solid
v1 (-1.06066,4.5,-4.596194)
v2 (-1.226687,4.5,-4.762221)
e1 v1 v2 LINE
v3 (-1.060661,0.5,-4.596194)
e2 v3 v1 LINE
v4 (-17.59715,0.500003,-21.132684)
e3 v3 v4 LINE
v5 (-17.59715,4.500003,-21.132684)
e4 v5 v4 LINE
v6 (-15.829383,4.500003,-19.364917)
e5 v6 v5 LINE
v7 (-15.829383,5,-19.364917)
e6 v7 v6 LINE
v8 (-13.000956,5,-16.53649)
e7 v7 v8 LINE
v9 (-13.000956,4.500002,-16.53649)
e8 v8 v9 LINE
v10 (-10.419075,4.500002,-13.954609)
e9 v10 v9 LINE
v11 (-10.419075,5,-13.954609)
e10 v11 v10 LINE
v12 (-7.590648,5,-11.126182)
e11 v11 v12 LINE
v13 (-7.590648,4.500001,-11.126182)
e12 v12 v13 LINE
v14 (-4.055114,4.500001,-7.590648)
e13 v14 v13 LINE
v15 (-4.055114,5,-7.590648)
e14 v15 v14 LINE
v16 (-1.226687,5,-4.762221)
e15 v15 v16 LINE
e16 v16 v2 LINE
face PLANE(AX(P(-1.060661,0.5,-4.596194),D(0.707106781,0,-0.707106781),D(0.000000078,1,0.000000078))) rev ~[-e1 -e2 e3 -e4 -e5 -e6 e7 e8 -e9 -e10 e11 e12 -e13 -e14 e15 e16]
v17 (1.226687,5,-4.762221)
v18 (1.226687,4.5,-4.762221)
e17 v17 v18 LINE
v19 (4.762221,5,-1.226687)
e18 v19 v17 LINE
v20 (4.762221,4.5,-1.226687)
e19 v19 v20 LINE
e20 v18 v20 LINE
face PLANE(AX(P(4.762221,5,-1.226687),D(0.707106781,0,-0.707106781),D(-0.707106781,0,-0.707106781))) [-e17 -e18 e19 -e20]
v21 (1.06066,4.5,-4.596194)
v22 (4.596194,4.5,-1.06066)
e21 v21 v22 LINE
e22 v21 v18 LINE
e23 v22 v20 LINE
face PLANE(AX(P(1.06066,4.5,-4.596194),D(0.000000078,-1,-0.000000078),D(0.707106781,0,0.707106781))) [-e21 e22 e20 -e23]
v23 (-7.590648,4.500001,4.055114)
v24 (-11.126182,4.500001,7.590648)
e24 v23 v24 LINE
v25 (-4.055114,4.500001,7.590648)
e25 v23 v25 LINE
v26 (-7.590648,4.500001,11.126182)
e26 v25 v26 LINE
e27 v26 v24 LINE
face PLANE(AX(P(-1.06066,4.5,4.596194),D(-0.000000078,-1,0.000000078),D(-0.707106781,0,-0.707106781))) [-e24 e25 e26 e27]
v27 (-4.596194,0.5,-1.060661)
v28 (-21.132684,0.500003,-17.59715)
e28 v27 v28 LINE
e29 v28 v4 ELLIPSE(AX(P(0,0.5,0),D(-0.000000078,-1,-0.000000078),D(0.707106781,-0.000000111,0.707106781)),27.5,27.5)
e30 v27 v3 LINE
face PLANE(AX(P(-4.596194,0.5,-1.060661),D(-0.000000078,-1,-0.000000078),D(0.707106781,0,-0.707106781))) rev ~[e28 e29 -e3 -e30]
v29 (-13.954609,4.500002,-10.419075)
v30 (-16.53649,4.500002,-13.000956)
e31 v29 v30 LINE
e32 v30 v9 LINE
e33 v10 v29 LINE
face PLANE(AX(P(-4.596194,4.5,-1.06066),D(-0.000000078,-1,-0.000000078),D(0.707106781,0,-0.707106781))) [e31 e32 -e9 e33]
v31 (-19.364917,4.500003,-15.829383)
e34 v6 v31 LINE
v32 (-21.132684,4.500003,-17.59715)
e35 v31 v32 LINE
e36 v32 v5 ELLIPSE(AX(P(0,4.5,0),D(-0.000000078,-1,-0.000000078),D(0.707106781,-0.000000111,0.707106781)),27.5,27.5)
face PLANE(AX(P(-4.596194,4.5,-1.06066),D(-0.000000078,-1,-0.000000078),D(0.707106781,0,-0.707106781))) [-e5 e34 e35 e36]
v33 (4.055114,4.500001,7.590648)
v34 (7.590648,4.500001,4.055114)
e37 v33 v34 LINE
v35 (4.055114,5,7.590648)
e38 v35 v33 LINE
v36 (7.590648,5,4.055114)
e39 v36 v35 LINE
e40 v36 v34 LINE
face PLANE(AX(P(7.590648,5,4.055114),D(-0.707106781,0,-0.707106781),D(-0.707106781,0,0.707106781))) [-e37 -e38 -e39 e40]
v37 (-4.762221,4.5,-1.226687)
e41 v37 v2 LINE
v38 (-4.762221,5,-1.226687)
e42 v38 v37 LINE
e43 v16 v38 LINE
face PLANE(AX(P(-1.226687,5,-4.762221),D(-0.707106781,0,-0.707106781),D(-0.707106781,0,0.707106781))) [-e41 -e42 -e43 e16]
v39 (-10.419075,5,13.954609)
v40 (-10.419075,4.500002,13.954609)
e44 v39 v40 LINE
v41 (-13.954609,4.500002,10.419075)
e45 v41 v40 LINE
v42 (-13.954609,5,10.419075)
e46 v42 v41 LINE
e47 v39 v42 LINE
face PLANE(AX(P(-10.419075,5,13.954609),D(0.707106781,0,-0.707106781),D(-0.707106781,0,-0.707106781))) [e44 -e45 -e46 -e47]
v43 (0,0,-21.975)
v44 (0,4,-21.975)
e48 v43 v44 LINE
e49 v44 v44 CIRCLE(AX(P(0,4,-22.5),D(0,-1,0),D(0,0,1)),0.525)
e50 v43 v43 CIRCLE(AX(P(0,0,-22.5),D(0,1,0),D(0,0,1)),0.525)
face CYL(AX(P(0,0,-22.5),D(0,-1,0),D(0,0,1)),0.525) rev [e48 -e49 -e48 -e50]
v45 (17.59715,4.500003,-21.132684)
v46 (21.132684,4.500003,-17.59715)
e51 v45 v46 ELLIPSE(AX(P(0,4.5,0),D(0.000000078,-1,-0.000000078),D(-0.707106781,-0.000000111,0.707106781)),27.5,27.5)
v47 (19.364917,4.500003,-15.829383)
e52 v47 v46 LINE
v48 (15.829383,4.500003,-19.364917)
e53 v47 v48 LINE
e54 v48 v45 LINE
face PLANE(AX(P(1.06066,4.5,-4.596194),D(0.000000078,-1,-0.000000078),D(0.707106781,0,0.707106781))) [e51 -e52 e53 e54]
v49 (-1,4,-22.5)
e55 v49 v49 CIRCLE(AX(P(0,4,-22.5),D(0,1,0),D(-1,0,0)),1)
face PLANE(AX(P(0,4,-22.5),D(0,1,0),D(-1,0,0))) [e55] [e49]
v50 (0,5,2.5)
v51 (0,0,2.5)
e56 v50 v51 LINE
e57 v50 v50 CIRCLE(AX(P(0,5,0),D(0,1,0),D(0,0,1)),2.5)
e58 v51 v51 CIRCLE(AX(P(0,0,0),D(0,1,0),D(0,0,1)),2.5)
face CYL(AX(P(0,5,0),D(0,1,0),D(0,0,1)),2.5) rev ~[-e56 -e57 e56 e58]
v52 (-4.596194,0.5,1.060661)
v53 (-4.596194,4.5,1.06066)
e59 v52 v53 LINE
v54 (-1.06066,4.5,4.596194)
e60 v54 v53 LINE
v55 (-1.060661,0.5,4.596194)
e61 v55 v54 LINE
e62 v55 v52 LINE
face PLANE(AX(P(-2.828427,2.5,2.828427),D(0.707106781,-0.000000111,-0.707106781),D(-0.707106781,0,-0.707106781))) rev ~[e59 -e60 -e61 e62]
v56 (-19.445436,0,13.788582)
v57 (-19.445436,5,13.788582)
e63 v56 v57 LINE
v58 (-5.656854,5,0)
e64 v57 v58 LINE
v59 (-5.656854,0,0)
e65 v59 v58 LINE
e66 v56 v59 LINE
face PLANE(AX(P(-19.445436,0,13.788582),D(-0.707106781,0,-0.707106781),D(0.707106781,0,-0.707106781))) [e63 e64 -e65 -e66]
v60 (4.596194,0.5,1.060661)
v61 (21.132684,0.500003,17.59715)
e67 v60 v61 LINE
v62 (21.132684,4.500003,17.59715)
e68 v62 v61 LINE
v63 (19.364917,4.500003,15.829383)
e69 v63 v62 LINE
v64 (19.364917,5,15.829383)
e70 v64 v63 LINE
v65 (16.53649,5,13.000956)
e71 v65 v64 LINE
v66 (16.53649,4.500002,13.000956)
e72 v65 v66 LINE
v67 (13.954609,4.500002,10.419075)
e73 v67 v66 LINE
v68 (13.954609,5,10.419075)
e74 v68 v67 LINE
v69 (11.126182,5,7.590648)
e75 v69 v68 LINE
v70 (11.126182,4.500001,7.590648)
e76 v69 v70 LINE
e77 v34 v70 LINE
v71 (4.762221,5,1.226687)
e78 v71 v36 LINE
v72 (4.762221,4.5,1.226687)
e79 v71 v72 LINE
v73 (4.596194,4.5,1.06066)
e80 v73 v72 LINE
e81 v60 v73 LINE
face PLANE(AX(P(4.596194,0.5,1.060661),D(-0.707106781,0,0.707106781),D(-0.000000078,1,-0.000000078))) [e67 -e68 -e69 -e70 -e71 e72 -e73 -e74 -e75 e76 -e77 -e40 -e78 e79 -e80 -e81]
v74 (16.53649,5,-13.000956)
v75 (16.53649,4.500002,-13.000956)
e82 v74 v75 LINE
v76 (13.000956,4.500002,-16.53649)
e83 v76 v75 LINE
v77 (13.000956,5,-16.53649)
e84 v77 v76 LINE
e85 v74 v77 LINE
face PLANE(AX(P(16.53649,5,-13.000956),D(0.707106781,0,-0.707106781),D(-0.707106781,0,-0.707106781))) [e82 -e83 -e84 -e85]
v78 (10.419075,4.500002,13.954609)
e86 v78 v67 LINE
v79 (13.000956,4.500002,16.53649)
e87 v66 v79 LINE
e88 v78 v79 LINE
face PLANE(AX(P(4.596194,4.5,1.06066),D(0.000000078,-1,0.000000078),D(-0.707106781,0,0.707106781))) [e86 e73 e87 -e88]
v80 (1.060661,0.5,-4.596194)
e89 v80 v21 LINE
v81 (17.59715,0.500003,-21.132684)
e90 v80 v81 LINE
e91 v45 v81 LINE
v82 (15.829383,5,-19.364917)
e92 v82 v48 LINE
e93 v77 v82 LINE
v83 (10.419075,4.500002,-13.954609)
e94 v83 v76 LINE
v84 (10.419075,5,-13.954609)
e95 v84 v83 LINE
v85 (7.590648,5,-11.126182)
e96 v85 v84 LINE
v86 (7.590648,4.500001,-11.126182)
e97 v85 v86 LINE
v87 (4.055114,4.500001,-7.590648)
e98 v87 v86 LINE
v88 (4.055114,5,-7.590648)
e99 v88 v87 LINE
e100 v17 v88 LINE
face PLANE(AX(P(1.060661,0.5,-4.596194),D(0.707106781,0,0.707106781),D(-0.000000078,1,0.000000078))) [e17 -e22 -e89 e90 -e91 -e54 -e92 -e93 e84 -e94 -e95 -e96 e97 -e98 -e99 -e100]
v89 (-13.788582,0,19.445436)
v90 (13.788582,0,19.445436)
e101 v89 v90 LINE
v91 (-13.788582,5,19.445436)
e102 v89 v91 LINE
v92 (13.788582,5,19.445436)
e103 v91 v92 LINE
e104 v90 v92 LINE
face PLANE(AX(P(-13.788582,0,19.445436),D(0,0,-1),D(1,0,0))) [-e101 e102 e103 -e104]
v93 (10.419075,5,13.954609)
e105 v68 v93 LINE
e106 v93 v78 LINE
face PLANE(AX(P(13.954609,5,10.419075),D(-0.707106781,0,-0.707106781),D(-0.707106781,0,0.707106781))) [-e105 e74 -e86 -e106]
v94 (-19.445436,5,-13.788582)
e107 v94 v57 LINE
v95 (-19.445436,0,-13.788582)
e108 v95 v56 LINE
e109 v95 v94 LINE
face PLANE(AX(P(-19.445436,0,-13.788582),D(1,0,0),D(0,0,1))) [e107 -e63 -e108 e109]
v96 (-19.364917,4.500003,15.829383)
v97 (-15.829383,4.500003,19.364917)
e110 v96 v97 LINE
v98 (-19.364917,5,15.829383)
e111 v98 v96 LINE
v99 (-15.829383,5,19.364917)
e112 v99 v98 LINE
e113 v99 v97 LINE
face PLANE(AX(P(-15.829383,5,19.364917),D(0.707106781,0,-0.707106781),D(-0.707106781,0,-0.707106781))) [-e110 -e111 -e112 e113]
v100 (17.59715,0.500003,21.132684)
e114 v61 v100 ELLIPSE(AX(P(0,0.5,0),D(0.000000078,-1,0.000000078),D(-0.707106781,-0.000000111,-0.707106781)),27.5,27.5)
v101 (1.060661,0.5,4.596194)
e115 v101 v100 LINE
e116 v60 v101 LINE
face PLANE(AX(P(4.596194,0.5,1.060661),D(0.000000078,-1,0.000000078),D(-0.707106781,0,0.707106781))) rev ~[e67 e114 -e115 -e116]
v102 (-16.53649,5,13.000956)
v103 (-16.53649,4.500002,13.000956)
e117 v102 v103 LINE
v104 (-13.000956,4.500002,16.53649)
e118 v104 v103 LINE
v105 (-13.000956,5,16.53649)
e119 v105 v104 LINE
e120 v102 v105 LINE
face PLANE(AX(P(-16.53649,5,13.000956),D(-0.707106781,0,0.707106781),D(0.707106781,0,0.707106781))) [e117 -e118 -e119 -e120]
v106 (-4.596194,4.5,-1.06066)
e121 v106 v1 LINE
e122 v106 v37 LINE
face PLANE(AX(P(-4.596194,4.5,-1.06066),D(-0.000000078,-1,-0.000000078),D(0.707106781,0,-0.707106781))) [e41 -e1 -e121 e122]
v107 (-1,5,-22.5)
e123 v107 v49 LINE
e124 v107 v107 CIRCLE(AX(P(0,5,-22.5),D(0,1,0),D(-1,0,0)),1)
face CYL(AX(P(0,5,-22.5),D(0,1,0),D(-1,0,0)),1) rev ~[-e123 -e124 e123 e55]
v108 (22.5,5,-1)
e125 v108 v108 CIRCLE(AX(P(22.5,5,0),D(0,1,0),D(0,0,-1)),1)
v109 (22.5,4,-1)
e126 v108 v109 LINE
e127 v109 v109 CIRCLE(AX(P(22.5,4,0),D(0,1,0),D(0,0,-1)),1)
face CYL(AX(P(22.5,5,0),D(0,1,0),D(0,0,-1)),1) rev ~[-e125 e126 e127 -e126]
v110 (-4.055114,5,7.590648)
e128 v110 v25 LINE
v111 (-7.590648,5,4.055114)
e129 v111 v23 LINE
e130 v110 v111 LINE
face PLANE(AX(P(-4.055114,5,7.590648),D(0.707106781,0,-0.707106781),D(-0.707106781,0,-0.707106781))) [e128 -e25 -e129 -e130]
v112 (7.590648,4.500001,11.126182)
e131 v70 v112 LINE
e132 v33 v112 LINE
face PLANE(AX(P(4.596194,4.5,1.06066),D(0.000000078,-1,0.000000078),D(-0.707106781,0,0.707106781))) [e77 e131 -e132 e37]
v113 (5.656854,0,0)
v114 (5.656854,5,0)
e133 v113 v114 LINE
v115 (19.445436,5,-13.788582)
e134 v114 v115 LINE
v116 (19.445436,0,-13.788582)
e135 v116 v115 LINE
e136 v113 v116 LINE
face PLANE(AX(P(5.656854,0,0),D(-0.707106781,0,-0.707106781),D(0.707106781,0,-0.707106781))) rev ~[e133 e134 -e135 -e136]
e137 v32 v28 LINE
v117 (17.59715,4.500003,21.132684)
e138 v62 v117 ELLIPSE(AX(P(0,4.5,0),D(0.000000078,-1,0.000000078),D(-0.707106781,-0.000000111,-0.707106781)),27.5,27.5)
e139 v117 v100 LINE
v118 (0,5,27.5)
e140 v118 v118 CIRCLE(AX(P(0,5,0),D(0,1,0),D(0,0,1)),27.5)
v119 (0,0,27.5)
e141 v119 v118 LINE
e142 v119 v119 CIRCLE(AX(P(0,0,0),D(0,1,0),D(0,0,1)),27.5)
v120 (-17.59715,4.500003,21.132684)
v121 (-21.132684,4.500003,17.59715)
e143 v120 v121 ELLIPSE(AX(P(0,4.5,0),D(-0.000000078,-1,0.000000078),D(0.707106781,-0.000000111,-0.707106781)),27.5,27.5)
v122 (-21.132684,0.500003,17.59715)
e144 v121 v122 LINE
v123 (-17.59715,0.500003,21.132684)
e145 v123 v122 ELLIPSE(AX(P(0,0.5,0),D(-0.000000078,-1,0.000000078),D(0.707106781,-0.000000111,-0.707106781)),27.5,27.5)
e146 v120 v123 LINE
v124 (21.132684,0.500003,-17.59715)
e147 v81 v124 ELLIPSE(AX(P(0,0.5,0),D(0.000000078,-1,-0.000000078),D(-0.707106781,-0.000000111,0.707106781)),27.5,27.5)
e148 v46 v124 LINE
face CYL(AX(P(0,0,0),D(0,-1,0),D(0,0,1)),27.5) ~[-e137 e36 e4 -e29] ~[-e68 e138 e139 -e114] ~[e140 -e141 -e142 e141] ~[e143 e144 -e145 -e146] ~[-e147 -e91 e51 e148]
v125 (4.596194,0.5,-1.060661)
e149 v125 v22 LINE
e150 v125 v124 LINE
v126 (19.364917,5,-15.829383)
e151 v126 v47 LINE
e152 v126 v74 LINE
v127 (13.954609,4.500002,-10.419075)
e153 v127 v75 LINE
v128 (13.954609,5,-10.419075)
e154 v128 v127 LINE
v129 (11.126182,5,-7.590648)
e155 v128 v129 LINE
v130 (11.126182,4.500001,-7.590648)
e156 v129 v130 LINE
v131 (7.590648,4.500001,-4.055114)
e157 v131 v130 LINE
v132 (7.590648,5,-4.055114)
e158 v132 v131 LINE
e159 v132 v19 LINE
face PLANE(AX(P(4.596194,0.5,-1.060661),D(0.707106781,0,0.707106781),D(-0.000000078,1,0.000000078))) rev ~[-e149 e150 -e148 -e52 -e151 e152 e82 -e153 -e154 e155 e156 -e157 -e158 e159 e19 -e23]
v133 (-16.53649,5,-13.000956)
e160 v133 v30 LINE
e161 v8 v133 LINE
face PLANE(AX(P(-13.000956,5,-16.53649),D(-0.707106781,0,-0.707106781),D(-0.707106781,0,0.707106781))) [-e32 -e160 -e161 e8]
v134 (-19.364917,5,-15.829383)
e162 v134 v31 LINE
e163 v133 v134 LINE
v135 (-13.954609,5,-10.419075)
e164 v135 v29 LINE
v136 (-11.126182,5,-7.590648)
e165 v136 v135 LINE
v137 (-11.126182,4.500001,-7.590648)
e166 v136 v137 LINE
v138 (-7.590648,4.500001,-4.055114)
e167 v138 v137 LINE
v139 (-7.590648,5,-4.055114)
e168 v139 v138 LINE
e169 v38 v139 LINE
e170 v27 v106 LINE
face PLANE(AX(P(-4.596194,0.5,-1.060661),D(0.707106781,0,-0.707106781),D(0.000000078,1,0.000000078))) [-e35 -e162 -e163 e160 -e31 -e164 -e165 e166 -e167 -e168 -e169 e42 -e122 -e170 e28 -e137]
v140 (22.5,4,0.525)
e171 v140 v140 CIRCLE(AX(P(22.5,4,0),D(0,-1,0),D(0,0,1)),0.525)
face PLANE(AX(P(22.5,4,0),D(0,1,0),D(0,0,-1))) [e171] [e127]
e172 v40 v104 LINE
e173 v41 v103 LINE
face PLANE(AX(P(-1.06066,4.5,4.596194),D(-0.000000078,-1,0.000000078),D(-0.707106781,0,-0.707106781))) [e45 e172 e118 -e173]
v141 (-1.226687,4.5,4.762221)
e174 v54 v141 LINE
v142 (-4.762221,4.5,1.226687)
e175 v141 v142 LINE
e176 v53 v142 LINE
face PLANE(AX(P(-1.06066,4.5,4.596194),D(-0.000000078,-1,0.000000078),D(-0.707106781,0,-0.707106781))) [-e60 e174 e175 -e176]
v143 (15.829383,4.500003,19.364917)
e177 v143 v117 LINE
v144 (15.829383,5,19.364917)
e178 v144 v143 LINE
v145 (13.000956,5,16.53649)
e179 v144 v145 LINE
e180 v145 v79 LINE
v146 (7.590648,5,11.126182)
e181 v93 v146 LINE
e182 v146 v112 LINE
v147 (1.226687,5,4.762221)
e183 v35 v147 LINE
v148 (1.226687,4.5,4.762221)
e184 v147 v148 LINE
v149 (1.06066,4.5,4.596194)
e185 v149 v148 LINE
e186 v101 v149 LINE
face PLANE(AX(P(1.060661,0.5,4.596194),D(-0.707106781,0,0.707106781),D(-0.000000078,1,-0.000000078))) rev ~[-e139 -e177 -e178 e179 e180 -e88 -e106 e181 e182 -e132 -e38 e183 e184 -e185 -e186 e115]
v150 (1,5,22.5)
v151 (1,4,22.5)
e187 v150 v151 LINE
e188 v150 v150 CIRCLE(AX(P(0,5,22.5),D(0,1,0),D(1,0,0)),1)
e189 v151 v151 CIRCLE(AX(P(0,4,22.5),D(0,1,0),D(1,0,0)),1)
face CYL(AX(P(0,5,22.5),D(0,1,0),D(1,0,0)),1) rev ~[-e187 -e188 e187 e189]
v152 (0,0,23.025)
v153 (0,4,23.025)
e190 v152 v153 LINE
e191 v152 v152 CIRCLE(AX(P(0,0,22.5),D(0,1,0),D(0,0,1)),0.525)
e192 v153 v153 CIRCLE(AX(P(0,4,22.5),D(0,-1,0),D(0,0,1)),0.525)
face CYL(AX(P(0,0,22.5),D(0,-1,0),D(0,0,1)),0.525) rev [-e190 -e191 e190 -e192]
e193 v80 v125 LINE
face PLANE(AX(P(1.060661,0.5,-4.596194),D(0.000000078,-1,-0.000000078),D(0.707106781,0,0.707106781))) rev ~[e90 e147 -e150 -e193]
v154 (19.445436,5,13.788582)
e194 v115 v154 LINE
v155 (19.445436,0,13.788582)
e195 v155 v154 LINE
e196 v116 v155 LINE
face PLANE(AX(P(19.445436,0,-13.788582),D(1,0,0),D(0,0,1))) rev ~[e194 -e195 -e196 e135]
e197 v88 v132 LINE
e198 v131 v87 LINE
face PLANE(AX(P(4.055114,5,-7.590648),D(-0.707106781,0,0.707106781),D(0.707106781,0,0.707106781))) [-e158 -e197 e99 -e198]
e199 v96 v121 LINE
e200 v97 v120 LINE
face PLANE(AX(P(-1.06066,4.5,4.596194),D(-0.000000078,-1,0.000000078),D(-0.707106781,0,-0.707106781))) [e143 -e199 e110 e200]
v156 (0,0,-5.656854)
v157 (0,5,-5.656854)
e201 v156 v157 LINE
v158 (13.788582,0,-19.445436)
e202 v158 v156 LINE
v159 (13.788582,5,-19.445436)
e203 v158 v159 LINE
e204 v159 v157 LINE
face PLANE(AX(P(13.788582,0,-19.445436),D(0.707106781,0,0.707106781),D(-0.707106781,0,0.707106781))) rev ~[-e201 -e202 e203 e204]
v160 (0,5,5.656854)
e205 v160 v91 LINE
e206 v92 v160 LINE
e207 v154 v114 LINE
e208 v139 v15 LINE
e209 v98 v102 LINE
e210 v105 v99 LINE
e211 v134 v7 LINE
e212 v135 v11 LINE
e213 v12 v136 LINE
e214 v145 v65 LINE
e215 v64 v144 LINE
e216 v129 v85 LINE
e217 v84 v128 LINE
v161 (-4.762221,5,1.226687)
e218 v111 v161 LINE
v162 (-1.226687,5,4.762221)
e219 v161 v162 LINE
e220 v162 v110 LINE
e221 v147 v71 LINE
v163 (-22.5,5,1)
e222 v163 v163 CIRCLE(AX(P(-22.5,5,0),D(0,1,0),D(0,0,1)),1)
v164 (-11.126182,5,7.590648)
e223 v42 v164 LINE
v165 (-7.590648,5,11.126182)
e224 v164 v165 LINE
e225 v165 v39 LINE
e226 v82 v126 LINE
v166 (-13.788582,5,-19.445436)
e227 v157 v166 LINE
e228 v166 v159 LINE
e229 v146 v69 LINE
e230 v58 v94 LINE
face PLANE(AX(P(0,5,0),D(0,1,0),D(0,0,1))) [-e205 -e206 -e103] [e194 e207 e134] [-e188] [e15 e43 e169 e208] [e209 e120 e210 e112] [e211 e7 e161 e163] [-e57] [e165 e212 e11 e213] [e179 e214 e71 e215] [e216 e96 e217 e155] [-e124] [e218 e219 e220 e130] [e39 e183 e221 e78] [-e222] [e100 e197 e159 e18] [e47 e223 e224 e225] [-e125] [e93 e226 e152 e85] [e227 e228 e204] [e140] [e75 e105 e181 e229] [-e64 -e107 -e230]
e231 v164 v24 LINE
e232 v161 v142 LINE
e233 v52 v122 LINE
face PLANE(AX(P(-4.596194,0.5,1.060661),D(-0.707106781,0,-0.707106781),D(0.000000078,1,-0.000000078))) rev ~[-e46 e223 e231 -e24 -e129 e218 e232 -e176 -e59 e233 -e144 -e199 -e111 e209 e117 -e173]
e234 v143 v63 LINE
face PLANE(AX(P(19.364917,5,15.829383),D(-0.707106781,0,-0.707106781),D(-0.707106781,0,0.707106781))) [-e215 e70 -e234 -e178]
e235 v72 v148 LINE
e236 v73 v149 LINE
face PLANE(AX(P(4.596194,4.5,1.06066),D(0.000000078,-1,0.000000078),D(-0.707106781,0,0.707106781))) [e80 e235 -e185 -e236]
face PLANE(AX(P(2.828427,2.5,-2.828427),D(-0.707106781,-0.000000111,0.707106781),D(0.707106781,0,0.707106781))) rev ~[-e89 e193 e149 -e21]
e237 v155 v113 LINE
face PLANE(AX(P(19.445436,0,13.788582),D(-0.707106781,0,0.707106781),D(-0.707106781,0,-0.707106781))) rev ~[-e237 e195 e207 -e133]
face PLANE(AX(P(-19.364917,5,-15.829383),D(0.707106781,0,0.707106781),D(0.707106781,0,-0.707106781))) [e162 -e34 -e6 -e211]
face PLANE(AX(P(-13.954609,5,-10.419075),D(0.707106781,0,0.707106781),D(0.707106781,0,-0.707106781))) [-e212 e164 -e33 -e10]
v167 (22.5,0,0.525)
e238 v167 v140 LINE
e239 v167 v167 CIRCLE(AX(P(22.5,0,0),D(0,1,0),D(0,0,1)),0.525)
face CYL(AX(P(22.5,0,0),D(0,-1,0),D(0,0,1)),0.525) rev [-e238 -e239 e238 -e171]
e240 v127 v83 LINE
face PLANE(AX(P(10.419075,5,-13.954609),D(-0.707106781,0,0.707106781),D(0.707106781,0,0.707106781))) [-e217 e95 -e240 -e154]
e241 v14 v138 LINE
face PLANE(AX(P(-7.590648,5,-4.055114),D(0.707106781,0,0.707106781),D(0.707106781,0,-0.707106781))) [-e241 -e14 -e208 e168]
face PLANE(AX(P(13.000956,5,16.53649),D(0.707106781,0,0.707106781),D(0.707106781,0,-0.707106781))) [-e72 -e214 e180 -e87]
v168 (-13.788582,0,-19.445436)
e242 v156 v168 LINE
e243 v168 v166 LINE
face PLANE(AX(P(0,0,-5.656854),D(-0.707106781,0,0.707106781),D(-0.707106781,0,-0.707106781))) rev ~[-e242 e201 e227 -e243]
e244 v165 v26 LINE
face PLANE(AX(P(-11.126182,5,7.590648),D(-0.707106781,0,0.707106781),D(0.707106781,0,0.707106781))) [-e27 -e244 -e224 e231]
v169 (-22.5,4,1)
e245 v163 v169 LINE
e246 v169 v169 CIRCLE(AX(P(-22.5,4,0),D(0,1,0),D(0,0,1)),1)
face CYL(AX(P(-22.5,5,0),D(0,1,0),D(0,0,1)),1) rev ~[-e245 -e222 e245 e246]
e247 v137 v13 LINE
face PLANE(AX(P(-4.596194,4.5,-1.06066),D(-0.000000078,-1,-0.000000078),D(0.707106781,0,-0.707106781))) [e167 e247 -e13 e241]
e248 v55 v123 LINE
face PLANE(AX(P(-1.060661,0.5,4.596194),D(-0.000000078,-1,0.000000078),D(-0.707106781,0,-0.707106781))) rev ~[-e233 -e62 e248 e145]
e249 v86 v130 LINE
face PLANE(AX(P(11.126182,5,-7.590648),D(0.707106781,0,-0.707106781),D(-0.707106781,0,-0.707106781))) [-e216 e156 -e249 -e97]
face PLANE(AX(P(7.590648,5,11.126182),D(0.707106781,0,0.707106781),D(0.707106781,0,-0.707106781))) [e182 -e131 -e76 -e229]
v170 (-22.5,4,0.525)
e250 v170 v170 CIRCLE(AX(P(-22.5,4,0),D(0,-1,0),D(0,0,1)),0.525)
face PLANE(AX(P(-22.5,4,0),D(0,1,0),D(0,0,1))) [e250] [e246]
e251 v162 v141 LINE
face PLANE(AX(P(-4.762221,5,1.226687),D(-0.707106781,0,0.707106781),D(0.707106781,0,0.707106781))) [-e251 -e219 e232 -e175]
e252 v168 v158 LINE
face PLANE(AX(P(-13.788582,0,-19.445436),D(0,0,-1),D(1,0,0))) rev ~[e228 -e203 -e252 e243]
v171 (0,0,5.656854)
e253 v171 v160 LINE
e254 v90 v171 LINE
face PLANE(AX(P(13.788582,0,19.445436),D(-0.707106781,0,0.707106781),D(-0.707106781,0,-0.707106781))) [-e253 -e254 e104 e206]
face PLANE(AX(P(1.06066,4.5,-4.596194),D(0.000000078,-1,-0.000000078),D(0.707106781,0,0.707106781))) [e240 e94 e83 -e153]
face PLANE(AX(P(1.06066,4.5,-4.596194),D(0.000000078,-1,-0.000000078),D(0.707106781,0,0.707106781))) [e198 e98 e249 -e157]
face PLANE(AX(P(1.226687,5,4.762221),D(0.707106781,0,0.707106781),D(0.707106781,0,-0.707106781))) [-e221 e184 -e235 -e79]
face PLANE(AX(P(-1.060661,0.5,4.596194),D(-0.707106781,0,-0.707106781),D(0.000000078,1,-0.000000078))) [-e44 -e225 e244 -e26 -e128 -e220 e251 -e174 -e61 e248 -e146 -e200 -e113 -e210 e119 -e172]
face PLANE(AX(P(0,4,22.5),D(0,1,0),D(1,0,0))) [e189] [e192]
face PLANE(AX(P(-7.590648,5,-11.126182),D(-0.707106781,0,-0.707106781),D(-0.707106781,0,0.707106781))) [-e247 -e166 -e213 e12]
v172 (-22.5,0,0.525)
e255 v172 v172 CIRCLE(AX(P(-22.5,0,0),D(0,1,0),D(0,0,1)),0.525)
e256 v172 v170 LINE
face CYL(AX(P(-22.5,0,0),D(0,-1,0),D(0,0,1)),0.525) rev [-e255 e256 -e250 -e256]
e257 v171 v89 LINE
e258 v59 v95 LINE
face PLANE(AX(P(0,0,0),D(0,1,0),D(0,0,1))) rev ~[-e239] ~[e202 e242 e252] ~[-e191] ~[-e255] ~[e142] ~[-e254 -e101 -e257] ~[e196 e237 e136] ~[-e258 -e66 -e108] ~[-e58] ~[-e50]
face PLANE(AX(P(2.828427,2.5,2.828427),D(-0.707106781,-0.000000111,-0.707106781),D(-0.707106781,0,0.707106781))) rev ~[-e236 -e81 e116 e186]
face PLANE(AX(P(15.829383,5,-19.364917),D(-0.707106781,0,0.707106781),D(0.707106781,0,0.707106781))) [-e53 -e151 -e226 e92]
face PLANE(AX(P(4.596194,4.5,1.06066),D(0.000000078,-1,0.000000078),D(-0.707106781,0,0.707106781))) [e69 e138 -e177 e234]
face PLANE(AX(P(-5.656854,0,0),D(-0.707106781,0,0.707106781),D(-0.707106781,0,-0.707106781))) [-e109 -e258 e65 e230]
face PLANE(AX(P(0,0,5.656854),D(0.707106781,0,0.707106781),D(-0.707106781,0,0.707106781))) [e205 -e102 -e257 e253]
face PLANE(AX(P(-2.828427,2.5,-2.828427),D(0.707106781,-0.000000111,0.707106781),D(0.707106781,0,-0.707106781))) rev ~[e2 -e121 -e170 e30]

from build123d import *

# Parameters (mm, degrees)
SKETCH_2_R               = 27.5
SKETCH_2_R_2             = 0.525
EXTRUDE_1_DEPTH          = 5
SKETCH_5_W               = 5
SKETCH_5_H               = 4
CUT_EXTRUDE_1_DEPTH      = 44.181327292
PATTERN_CIRCULAR_1_COUNT = 4
CUT_EXTRUDE_2_DEPTH      = 2
PATTERN_CIRCULAR_2_COUNT = 4
SKETCH_7_R               = 2.5
CUT_EXTRUDE_3_DEPTH      = 40.210967853
SKETCH_8_R               = 1
CUT_EXTRUDE_4_DEPTH      = 1
PATTERN_CIRCULAR_3_COUNT = 4


with BuildPart() as part:
    # 草图2 → 凸台-拉伸1 (new body)
    with BuildSketch(Plane(origin=(0, 0, 0), x_dir=(1, 0, 0), z_dir=(0, 1, 0))):
        Circle(SKETCH_2_R)
        with Locations((0, 22.5)):
            Circle(SKETCH_2_R_2, mode=Mode.SUBTRACT)
        with Locations((22.5, -2e-09)):
            Circle(SKETCH_2_R_2, mode=Mode.SUBTRACT)
        with Locations((-2e-09, -22.500000002)):
            Circle(SKETCH_2_R_2, mode=Mode.SUBTRACT)
        with Locations((-22.500000002, 0)):
            Circle(SKETCH_2_R_2, mode=Mode.SUBTRACT)
        Polygon((-13.788582233, 19.445436483), (13.788582233, 19.445436483), (0, 5.656854249), align=None, mode=Mode.SUBTRACT)
        Polygon((-19.445436483, 13.788582233), (-19.445436483, -13.788582233), (-5.656854249, 0), align=None, mode=Mode.SUBTRACT)
        Polygon((-13.788582233, -19.445436483), (13.788582233, -19.445436483), (0, -5.656854249), align=None, mode=Mode.SUBTRACT)
        Polygon((19.445436483, 13.788582233), (19.445436483, -13.788582233), (5.656854249, 0), align=None, mode=Mode.SUBTRACT)
    extrude(amount=EXTRUDE_1_DEPTH)

    # 草图5 → 切除-拉伸1 (cut, through all)
    with BuildSketch(Plane(origin=(2.828427515, 4.42e-07, -2.828427515), x_dir=(0.7071067811865507, 0, 0.7071067811865444), z_dir=(-0.7071067811865401, -1.1050996923684133e-07, 0.7071067811865465))):
        with Locations((0, 2.5)):
            Rectangle(SKETCH_5_W, SKETCH_5_H)
    cut_extrude_1 = extrude(amount=-CUT_EXTRUDE_1_DEPTH, mode=Mode.SUBTRACT)

    # 阵列(圆周)1: 切除-拉伸1 ×4 about axis
    pattern_circular_1_axis = Axis((0, 5, 0), (0, -1, 0))
    for i in range(1, PATTERN_CIRCULAR_1_COUNT):
        add(cut_extrude_1.rotate(pattern_circular_1_axis, i * 360 / PATTERN_CIRCULAR_1_COUNT), mode=Mode.SUBTRACT)

    # 草图6 → 切除-拉伸2 (cut)
    with BuildSketch(Plane(origin=(0, 5, 0), x_dir=(1, 0, 0), z_dir=(0, 1, 0))):
        Polygon((-4.762221068, 1.226687162), (-1.226687162, 4.762221068), (-4.055114287, 7.590648193), (-7.590648193, 4.055114287), align=None)
        Polygon((-19.364916731, 15.829382825), (-16.536489606, 13.0009557), (-13.0009557, 16.536489606), (-15.829382825, 19.364916731), align=None)
        Polygon((-13.954609224, 10.419075318), (-11.126182099, 7.590648193), (-7.590648193, 11.126182099), (-10.419075318, 13.954609224), align=None)
    cut_extrude_2 = extrude(amount=-CUT_EXTRUDE_2_DEPTH, mode=Mode.SUBTRACT)

    # 阵列(圆周)2: 切除-拉伸2 ×4 about axis
    pattern_circular_2_axis = Axis((0, 5, 0), (0, -1, 0))
    for i in range(1, PATTERN_CIRCULAR_2_COUNT):
        add(cut_extrude_2.rotate(pattern_circular_2_axis, i * 360 / PATTERN_CIRCULAR_2_COUNT), mode=Mode.SUBTRACT)

    # 草图7 → 切除-拉伸3 (cut, through all)
    with BuildSketch(Plane(origin=(0, 5, 0), x_dir=(1, 0, 0), z_dir=(0, 1, 0))):
        Circle(SKETCH_7_R)
    extrude(amount=-CUT_EXTRUDE_3_DEPTH, mode=Mode.SUBTRACT)

    # 草图8 → 切除-拉伸4 (cut)
    with BuildSketch(Plane(origin=(0, 5, 0), x_dir=(1, 0, 0), z_dir=(0, 1, 0))):
        with Locations((-22.500000002, 0)):
            Circle(SKETCH_8_R)
    cut_extrude_4 = extrude(amount=-CUT_EXTRUDE_4_DEPTH, mode=Mode.SUBTRACT)

    # 阵列(圆周)3: 切除-拉伸4 ×4 about axis
    pattern_circular_3_axis = Axis((0, 5, 0), (0, -1, 0))
    for i in range(1, PATTERN_CIRCULAR_3_COUNT):
        add(cut_extrude_4.rotate(pattern_circular_3_axis, i * 360 / PATTERN_CIRCULAR_3_COUNT), mode=Mode.SUBTRACT)


solid = part.part
